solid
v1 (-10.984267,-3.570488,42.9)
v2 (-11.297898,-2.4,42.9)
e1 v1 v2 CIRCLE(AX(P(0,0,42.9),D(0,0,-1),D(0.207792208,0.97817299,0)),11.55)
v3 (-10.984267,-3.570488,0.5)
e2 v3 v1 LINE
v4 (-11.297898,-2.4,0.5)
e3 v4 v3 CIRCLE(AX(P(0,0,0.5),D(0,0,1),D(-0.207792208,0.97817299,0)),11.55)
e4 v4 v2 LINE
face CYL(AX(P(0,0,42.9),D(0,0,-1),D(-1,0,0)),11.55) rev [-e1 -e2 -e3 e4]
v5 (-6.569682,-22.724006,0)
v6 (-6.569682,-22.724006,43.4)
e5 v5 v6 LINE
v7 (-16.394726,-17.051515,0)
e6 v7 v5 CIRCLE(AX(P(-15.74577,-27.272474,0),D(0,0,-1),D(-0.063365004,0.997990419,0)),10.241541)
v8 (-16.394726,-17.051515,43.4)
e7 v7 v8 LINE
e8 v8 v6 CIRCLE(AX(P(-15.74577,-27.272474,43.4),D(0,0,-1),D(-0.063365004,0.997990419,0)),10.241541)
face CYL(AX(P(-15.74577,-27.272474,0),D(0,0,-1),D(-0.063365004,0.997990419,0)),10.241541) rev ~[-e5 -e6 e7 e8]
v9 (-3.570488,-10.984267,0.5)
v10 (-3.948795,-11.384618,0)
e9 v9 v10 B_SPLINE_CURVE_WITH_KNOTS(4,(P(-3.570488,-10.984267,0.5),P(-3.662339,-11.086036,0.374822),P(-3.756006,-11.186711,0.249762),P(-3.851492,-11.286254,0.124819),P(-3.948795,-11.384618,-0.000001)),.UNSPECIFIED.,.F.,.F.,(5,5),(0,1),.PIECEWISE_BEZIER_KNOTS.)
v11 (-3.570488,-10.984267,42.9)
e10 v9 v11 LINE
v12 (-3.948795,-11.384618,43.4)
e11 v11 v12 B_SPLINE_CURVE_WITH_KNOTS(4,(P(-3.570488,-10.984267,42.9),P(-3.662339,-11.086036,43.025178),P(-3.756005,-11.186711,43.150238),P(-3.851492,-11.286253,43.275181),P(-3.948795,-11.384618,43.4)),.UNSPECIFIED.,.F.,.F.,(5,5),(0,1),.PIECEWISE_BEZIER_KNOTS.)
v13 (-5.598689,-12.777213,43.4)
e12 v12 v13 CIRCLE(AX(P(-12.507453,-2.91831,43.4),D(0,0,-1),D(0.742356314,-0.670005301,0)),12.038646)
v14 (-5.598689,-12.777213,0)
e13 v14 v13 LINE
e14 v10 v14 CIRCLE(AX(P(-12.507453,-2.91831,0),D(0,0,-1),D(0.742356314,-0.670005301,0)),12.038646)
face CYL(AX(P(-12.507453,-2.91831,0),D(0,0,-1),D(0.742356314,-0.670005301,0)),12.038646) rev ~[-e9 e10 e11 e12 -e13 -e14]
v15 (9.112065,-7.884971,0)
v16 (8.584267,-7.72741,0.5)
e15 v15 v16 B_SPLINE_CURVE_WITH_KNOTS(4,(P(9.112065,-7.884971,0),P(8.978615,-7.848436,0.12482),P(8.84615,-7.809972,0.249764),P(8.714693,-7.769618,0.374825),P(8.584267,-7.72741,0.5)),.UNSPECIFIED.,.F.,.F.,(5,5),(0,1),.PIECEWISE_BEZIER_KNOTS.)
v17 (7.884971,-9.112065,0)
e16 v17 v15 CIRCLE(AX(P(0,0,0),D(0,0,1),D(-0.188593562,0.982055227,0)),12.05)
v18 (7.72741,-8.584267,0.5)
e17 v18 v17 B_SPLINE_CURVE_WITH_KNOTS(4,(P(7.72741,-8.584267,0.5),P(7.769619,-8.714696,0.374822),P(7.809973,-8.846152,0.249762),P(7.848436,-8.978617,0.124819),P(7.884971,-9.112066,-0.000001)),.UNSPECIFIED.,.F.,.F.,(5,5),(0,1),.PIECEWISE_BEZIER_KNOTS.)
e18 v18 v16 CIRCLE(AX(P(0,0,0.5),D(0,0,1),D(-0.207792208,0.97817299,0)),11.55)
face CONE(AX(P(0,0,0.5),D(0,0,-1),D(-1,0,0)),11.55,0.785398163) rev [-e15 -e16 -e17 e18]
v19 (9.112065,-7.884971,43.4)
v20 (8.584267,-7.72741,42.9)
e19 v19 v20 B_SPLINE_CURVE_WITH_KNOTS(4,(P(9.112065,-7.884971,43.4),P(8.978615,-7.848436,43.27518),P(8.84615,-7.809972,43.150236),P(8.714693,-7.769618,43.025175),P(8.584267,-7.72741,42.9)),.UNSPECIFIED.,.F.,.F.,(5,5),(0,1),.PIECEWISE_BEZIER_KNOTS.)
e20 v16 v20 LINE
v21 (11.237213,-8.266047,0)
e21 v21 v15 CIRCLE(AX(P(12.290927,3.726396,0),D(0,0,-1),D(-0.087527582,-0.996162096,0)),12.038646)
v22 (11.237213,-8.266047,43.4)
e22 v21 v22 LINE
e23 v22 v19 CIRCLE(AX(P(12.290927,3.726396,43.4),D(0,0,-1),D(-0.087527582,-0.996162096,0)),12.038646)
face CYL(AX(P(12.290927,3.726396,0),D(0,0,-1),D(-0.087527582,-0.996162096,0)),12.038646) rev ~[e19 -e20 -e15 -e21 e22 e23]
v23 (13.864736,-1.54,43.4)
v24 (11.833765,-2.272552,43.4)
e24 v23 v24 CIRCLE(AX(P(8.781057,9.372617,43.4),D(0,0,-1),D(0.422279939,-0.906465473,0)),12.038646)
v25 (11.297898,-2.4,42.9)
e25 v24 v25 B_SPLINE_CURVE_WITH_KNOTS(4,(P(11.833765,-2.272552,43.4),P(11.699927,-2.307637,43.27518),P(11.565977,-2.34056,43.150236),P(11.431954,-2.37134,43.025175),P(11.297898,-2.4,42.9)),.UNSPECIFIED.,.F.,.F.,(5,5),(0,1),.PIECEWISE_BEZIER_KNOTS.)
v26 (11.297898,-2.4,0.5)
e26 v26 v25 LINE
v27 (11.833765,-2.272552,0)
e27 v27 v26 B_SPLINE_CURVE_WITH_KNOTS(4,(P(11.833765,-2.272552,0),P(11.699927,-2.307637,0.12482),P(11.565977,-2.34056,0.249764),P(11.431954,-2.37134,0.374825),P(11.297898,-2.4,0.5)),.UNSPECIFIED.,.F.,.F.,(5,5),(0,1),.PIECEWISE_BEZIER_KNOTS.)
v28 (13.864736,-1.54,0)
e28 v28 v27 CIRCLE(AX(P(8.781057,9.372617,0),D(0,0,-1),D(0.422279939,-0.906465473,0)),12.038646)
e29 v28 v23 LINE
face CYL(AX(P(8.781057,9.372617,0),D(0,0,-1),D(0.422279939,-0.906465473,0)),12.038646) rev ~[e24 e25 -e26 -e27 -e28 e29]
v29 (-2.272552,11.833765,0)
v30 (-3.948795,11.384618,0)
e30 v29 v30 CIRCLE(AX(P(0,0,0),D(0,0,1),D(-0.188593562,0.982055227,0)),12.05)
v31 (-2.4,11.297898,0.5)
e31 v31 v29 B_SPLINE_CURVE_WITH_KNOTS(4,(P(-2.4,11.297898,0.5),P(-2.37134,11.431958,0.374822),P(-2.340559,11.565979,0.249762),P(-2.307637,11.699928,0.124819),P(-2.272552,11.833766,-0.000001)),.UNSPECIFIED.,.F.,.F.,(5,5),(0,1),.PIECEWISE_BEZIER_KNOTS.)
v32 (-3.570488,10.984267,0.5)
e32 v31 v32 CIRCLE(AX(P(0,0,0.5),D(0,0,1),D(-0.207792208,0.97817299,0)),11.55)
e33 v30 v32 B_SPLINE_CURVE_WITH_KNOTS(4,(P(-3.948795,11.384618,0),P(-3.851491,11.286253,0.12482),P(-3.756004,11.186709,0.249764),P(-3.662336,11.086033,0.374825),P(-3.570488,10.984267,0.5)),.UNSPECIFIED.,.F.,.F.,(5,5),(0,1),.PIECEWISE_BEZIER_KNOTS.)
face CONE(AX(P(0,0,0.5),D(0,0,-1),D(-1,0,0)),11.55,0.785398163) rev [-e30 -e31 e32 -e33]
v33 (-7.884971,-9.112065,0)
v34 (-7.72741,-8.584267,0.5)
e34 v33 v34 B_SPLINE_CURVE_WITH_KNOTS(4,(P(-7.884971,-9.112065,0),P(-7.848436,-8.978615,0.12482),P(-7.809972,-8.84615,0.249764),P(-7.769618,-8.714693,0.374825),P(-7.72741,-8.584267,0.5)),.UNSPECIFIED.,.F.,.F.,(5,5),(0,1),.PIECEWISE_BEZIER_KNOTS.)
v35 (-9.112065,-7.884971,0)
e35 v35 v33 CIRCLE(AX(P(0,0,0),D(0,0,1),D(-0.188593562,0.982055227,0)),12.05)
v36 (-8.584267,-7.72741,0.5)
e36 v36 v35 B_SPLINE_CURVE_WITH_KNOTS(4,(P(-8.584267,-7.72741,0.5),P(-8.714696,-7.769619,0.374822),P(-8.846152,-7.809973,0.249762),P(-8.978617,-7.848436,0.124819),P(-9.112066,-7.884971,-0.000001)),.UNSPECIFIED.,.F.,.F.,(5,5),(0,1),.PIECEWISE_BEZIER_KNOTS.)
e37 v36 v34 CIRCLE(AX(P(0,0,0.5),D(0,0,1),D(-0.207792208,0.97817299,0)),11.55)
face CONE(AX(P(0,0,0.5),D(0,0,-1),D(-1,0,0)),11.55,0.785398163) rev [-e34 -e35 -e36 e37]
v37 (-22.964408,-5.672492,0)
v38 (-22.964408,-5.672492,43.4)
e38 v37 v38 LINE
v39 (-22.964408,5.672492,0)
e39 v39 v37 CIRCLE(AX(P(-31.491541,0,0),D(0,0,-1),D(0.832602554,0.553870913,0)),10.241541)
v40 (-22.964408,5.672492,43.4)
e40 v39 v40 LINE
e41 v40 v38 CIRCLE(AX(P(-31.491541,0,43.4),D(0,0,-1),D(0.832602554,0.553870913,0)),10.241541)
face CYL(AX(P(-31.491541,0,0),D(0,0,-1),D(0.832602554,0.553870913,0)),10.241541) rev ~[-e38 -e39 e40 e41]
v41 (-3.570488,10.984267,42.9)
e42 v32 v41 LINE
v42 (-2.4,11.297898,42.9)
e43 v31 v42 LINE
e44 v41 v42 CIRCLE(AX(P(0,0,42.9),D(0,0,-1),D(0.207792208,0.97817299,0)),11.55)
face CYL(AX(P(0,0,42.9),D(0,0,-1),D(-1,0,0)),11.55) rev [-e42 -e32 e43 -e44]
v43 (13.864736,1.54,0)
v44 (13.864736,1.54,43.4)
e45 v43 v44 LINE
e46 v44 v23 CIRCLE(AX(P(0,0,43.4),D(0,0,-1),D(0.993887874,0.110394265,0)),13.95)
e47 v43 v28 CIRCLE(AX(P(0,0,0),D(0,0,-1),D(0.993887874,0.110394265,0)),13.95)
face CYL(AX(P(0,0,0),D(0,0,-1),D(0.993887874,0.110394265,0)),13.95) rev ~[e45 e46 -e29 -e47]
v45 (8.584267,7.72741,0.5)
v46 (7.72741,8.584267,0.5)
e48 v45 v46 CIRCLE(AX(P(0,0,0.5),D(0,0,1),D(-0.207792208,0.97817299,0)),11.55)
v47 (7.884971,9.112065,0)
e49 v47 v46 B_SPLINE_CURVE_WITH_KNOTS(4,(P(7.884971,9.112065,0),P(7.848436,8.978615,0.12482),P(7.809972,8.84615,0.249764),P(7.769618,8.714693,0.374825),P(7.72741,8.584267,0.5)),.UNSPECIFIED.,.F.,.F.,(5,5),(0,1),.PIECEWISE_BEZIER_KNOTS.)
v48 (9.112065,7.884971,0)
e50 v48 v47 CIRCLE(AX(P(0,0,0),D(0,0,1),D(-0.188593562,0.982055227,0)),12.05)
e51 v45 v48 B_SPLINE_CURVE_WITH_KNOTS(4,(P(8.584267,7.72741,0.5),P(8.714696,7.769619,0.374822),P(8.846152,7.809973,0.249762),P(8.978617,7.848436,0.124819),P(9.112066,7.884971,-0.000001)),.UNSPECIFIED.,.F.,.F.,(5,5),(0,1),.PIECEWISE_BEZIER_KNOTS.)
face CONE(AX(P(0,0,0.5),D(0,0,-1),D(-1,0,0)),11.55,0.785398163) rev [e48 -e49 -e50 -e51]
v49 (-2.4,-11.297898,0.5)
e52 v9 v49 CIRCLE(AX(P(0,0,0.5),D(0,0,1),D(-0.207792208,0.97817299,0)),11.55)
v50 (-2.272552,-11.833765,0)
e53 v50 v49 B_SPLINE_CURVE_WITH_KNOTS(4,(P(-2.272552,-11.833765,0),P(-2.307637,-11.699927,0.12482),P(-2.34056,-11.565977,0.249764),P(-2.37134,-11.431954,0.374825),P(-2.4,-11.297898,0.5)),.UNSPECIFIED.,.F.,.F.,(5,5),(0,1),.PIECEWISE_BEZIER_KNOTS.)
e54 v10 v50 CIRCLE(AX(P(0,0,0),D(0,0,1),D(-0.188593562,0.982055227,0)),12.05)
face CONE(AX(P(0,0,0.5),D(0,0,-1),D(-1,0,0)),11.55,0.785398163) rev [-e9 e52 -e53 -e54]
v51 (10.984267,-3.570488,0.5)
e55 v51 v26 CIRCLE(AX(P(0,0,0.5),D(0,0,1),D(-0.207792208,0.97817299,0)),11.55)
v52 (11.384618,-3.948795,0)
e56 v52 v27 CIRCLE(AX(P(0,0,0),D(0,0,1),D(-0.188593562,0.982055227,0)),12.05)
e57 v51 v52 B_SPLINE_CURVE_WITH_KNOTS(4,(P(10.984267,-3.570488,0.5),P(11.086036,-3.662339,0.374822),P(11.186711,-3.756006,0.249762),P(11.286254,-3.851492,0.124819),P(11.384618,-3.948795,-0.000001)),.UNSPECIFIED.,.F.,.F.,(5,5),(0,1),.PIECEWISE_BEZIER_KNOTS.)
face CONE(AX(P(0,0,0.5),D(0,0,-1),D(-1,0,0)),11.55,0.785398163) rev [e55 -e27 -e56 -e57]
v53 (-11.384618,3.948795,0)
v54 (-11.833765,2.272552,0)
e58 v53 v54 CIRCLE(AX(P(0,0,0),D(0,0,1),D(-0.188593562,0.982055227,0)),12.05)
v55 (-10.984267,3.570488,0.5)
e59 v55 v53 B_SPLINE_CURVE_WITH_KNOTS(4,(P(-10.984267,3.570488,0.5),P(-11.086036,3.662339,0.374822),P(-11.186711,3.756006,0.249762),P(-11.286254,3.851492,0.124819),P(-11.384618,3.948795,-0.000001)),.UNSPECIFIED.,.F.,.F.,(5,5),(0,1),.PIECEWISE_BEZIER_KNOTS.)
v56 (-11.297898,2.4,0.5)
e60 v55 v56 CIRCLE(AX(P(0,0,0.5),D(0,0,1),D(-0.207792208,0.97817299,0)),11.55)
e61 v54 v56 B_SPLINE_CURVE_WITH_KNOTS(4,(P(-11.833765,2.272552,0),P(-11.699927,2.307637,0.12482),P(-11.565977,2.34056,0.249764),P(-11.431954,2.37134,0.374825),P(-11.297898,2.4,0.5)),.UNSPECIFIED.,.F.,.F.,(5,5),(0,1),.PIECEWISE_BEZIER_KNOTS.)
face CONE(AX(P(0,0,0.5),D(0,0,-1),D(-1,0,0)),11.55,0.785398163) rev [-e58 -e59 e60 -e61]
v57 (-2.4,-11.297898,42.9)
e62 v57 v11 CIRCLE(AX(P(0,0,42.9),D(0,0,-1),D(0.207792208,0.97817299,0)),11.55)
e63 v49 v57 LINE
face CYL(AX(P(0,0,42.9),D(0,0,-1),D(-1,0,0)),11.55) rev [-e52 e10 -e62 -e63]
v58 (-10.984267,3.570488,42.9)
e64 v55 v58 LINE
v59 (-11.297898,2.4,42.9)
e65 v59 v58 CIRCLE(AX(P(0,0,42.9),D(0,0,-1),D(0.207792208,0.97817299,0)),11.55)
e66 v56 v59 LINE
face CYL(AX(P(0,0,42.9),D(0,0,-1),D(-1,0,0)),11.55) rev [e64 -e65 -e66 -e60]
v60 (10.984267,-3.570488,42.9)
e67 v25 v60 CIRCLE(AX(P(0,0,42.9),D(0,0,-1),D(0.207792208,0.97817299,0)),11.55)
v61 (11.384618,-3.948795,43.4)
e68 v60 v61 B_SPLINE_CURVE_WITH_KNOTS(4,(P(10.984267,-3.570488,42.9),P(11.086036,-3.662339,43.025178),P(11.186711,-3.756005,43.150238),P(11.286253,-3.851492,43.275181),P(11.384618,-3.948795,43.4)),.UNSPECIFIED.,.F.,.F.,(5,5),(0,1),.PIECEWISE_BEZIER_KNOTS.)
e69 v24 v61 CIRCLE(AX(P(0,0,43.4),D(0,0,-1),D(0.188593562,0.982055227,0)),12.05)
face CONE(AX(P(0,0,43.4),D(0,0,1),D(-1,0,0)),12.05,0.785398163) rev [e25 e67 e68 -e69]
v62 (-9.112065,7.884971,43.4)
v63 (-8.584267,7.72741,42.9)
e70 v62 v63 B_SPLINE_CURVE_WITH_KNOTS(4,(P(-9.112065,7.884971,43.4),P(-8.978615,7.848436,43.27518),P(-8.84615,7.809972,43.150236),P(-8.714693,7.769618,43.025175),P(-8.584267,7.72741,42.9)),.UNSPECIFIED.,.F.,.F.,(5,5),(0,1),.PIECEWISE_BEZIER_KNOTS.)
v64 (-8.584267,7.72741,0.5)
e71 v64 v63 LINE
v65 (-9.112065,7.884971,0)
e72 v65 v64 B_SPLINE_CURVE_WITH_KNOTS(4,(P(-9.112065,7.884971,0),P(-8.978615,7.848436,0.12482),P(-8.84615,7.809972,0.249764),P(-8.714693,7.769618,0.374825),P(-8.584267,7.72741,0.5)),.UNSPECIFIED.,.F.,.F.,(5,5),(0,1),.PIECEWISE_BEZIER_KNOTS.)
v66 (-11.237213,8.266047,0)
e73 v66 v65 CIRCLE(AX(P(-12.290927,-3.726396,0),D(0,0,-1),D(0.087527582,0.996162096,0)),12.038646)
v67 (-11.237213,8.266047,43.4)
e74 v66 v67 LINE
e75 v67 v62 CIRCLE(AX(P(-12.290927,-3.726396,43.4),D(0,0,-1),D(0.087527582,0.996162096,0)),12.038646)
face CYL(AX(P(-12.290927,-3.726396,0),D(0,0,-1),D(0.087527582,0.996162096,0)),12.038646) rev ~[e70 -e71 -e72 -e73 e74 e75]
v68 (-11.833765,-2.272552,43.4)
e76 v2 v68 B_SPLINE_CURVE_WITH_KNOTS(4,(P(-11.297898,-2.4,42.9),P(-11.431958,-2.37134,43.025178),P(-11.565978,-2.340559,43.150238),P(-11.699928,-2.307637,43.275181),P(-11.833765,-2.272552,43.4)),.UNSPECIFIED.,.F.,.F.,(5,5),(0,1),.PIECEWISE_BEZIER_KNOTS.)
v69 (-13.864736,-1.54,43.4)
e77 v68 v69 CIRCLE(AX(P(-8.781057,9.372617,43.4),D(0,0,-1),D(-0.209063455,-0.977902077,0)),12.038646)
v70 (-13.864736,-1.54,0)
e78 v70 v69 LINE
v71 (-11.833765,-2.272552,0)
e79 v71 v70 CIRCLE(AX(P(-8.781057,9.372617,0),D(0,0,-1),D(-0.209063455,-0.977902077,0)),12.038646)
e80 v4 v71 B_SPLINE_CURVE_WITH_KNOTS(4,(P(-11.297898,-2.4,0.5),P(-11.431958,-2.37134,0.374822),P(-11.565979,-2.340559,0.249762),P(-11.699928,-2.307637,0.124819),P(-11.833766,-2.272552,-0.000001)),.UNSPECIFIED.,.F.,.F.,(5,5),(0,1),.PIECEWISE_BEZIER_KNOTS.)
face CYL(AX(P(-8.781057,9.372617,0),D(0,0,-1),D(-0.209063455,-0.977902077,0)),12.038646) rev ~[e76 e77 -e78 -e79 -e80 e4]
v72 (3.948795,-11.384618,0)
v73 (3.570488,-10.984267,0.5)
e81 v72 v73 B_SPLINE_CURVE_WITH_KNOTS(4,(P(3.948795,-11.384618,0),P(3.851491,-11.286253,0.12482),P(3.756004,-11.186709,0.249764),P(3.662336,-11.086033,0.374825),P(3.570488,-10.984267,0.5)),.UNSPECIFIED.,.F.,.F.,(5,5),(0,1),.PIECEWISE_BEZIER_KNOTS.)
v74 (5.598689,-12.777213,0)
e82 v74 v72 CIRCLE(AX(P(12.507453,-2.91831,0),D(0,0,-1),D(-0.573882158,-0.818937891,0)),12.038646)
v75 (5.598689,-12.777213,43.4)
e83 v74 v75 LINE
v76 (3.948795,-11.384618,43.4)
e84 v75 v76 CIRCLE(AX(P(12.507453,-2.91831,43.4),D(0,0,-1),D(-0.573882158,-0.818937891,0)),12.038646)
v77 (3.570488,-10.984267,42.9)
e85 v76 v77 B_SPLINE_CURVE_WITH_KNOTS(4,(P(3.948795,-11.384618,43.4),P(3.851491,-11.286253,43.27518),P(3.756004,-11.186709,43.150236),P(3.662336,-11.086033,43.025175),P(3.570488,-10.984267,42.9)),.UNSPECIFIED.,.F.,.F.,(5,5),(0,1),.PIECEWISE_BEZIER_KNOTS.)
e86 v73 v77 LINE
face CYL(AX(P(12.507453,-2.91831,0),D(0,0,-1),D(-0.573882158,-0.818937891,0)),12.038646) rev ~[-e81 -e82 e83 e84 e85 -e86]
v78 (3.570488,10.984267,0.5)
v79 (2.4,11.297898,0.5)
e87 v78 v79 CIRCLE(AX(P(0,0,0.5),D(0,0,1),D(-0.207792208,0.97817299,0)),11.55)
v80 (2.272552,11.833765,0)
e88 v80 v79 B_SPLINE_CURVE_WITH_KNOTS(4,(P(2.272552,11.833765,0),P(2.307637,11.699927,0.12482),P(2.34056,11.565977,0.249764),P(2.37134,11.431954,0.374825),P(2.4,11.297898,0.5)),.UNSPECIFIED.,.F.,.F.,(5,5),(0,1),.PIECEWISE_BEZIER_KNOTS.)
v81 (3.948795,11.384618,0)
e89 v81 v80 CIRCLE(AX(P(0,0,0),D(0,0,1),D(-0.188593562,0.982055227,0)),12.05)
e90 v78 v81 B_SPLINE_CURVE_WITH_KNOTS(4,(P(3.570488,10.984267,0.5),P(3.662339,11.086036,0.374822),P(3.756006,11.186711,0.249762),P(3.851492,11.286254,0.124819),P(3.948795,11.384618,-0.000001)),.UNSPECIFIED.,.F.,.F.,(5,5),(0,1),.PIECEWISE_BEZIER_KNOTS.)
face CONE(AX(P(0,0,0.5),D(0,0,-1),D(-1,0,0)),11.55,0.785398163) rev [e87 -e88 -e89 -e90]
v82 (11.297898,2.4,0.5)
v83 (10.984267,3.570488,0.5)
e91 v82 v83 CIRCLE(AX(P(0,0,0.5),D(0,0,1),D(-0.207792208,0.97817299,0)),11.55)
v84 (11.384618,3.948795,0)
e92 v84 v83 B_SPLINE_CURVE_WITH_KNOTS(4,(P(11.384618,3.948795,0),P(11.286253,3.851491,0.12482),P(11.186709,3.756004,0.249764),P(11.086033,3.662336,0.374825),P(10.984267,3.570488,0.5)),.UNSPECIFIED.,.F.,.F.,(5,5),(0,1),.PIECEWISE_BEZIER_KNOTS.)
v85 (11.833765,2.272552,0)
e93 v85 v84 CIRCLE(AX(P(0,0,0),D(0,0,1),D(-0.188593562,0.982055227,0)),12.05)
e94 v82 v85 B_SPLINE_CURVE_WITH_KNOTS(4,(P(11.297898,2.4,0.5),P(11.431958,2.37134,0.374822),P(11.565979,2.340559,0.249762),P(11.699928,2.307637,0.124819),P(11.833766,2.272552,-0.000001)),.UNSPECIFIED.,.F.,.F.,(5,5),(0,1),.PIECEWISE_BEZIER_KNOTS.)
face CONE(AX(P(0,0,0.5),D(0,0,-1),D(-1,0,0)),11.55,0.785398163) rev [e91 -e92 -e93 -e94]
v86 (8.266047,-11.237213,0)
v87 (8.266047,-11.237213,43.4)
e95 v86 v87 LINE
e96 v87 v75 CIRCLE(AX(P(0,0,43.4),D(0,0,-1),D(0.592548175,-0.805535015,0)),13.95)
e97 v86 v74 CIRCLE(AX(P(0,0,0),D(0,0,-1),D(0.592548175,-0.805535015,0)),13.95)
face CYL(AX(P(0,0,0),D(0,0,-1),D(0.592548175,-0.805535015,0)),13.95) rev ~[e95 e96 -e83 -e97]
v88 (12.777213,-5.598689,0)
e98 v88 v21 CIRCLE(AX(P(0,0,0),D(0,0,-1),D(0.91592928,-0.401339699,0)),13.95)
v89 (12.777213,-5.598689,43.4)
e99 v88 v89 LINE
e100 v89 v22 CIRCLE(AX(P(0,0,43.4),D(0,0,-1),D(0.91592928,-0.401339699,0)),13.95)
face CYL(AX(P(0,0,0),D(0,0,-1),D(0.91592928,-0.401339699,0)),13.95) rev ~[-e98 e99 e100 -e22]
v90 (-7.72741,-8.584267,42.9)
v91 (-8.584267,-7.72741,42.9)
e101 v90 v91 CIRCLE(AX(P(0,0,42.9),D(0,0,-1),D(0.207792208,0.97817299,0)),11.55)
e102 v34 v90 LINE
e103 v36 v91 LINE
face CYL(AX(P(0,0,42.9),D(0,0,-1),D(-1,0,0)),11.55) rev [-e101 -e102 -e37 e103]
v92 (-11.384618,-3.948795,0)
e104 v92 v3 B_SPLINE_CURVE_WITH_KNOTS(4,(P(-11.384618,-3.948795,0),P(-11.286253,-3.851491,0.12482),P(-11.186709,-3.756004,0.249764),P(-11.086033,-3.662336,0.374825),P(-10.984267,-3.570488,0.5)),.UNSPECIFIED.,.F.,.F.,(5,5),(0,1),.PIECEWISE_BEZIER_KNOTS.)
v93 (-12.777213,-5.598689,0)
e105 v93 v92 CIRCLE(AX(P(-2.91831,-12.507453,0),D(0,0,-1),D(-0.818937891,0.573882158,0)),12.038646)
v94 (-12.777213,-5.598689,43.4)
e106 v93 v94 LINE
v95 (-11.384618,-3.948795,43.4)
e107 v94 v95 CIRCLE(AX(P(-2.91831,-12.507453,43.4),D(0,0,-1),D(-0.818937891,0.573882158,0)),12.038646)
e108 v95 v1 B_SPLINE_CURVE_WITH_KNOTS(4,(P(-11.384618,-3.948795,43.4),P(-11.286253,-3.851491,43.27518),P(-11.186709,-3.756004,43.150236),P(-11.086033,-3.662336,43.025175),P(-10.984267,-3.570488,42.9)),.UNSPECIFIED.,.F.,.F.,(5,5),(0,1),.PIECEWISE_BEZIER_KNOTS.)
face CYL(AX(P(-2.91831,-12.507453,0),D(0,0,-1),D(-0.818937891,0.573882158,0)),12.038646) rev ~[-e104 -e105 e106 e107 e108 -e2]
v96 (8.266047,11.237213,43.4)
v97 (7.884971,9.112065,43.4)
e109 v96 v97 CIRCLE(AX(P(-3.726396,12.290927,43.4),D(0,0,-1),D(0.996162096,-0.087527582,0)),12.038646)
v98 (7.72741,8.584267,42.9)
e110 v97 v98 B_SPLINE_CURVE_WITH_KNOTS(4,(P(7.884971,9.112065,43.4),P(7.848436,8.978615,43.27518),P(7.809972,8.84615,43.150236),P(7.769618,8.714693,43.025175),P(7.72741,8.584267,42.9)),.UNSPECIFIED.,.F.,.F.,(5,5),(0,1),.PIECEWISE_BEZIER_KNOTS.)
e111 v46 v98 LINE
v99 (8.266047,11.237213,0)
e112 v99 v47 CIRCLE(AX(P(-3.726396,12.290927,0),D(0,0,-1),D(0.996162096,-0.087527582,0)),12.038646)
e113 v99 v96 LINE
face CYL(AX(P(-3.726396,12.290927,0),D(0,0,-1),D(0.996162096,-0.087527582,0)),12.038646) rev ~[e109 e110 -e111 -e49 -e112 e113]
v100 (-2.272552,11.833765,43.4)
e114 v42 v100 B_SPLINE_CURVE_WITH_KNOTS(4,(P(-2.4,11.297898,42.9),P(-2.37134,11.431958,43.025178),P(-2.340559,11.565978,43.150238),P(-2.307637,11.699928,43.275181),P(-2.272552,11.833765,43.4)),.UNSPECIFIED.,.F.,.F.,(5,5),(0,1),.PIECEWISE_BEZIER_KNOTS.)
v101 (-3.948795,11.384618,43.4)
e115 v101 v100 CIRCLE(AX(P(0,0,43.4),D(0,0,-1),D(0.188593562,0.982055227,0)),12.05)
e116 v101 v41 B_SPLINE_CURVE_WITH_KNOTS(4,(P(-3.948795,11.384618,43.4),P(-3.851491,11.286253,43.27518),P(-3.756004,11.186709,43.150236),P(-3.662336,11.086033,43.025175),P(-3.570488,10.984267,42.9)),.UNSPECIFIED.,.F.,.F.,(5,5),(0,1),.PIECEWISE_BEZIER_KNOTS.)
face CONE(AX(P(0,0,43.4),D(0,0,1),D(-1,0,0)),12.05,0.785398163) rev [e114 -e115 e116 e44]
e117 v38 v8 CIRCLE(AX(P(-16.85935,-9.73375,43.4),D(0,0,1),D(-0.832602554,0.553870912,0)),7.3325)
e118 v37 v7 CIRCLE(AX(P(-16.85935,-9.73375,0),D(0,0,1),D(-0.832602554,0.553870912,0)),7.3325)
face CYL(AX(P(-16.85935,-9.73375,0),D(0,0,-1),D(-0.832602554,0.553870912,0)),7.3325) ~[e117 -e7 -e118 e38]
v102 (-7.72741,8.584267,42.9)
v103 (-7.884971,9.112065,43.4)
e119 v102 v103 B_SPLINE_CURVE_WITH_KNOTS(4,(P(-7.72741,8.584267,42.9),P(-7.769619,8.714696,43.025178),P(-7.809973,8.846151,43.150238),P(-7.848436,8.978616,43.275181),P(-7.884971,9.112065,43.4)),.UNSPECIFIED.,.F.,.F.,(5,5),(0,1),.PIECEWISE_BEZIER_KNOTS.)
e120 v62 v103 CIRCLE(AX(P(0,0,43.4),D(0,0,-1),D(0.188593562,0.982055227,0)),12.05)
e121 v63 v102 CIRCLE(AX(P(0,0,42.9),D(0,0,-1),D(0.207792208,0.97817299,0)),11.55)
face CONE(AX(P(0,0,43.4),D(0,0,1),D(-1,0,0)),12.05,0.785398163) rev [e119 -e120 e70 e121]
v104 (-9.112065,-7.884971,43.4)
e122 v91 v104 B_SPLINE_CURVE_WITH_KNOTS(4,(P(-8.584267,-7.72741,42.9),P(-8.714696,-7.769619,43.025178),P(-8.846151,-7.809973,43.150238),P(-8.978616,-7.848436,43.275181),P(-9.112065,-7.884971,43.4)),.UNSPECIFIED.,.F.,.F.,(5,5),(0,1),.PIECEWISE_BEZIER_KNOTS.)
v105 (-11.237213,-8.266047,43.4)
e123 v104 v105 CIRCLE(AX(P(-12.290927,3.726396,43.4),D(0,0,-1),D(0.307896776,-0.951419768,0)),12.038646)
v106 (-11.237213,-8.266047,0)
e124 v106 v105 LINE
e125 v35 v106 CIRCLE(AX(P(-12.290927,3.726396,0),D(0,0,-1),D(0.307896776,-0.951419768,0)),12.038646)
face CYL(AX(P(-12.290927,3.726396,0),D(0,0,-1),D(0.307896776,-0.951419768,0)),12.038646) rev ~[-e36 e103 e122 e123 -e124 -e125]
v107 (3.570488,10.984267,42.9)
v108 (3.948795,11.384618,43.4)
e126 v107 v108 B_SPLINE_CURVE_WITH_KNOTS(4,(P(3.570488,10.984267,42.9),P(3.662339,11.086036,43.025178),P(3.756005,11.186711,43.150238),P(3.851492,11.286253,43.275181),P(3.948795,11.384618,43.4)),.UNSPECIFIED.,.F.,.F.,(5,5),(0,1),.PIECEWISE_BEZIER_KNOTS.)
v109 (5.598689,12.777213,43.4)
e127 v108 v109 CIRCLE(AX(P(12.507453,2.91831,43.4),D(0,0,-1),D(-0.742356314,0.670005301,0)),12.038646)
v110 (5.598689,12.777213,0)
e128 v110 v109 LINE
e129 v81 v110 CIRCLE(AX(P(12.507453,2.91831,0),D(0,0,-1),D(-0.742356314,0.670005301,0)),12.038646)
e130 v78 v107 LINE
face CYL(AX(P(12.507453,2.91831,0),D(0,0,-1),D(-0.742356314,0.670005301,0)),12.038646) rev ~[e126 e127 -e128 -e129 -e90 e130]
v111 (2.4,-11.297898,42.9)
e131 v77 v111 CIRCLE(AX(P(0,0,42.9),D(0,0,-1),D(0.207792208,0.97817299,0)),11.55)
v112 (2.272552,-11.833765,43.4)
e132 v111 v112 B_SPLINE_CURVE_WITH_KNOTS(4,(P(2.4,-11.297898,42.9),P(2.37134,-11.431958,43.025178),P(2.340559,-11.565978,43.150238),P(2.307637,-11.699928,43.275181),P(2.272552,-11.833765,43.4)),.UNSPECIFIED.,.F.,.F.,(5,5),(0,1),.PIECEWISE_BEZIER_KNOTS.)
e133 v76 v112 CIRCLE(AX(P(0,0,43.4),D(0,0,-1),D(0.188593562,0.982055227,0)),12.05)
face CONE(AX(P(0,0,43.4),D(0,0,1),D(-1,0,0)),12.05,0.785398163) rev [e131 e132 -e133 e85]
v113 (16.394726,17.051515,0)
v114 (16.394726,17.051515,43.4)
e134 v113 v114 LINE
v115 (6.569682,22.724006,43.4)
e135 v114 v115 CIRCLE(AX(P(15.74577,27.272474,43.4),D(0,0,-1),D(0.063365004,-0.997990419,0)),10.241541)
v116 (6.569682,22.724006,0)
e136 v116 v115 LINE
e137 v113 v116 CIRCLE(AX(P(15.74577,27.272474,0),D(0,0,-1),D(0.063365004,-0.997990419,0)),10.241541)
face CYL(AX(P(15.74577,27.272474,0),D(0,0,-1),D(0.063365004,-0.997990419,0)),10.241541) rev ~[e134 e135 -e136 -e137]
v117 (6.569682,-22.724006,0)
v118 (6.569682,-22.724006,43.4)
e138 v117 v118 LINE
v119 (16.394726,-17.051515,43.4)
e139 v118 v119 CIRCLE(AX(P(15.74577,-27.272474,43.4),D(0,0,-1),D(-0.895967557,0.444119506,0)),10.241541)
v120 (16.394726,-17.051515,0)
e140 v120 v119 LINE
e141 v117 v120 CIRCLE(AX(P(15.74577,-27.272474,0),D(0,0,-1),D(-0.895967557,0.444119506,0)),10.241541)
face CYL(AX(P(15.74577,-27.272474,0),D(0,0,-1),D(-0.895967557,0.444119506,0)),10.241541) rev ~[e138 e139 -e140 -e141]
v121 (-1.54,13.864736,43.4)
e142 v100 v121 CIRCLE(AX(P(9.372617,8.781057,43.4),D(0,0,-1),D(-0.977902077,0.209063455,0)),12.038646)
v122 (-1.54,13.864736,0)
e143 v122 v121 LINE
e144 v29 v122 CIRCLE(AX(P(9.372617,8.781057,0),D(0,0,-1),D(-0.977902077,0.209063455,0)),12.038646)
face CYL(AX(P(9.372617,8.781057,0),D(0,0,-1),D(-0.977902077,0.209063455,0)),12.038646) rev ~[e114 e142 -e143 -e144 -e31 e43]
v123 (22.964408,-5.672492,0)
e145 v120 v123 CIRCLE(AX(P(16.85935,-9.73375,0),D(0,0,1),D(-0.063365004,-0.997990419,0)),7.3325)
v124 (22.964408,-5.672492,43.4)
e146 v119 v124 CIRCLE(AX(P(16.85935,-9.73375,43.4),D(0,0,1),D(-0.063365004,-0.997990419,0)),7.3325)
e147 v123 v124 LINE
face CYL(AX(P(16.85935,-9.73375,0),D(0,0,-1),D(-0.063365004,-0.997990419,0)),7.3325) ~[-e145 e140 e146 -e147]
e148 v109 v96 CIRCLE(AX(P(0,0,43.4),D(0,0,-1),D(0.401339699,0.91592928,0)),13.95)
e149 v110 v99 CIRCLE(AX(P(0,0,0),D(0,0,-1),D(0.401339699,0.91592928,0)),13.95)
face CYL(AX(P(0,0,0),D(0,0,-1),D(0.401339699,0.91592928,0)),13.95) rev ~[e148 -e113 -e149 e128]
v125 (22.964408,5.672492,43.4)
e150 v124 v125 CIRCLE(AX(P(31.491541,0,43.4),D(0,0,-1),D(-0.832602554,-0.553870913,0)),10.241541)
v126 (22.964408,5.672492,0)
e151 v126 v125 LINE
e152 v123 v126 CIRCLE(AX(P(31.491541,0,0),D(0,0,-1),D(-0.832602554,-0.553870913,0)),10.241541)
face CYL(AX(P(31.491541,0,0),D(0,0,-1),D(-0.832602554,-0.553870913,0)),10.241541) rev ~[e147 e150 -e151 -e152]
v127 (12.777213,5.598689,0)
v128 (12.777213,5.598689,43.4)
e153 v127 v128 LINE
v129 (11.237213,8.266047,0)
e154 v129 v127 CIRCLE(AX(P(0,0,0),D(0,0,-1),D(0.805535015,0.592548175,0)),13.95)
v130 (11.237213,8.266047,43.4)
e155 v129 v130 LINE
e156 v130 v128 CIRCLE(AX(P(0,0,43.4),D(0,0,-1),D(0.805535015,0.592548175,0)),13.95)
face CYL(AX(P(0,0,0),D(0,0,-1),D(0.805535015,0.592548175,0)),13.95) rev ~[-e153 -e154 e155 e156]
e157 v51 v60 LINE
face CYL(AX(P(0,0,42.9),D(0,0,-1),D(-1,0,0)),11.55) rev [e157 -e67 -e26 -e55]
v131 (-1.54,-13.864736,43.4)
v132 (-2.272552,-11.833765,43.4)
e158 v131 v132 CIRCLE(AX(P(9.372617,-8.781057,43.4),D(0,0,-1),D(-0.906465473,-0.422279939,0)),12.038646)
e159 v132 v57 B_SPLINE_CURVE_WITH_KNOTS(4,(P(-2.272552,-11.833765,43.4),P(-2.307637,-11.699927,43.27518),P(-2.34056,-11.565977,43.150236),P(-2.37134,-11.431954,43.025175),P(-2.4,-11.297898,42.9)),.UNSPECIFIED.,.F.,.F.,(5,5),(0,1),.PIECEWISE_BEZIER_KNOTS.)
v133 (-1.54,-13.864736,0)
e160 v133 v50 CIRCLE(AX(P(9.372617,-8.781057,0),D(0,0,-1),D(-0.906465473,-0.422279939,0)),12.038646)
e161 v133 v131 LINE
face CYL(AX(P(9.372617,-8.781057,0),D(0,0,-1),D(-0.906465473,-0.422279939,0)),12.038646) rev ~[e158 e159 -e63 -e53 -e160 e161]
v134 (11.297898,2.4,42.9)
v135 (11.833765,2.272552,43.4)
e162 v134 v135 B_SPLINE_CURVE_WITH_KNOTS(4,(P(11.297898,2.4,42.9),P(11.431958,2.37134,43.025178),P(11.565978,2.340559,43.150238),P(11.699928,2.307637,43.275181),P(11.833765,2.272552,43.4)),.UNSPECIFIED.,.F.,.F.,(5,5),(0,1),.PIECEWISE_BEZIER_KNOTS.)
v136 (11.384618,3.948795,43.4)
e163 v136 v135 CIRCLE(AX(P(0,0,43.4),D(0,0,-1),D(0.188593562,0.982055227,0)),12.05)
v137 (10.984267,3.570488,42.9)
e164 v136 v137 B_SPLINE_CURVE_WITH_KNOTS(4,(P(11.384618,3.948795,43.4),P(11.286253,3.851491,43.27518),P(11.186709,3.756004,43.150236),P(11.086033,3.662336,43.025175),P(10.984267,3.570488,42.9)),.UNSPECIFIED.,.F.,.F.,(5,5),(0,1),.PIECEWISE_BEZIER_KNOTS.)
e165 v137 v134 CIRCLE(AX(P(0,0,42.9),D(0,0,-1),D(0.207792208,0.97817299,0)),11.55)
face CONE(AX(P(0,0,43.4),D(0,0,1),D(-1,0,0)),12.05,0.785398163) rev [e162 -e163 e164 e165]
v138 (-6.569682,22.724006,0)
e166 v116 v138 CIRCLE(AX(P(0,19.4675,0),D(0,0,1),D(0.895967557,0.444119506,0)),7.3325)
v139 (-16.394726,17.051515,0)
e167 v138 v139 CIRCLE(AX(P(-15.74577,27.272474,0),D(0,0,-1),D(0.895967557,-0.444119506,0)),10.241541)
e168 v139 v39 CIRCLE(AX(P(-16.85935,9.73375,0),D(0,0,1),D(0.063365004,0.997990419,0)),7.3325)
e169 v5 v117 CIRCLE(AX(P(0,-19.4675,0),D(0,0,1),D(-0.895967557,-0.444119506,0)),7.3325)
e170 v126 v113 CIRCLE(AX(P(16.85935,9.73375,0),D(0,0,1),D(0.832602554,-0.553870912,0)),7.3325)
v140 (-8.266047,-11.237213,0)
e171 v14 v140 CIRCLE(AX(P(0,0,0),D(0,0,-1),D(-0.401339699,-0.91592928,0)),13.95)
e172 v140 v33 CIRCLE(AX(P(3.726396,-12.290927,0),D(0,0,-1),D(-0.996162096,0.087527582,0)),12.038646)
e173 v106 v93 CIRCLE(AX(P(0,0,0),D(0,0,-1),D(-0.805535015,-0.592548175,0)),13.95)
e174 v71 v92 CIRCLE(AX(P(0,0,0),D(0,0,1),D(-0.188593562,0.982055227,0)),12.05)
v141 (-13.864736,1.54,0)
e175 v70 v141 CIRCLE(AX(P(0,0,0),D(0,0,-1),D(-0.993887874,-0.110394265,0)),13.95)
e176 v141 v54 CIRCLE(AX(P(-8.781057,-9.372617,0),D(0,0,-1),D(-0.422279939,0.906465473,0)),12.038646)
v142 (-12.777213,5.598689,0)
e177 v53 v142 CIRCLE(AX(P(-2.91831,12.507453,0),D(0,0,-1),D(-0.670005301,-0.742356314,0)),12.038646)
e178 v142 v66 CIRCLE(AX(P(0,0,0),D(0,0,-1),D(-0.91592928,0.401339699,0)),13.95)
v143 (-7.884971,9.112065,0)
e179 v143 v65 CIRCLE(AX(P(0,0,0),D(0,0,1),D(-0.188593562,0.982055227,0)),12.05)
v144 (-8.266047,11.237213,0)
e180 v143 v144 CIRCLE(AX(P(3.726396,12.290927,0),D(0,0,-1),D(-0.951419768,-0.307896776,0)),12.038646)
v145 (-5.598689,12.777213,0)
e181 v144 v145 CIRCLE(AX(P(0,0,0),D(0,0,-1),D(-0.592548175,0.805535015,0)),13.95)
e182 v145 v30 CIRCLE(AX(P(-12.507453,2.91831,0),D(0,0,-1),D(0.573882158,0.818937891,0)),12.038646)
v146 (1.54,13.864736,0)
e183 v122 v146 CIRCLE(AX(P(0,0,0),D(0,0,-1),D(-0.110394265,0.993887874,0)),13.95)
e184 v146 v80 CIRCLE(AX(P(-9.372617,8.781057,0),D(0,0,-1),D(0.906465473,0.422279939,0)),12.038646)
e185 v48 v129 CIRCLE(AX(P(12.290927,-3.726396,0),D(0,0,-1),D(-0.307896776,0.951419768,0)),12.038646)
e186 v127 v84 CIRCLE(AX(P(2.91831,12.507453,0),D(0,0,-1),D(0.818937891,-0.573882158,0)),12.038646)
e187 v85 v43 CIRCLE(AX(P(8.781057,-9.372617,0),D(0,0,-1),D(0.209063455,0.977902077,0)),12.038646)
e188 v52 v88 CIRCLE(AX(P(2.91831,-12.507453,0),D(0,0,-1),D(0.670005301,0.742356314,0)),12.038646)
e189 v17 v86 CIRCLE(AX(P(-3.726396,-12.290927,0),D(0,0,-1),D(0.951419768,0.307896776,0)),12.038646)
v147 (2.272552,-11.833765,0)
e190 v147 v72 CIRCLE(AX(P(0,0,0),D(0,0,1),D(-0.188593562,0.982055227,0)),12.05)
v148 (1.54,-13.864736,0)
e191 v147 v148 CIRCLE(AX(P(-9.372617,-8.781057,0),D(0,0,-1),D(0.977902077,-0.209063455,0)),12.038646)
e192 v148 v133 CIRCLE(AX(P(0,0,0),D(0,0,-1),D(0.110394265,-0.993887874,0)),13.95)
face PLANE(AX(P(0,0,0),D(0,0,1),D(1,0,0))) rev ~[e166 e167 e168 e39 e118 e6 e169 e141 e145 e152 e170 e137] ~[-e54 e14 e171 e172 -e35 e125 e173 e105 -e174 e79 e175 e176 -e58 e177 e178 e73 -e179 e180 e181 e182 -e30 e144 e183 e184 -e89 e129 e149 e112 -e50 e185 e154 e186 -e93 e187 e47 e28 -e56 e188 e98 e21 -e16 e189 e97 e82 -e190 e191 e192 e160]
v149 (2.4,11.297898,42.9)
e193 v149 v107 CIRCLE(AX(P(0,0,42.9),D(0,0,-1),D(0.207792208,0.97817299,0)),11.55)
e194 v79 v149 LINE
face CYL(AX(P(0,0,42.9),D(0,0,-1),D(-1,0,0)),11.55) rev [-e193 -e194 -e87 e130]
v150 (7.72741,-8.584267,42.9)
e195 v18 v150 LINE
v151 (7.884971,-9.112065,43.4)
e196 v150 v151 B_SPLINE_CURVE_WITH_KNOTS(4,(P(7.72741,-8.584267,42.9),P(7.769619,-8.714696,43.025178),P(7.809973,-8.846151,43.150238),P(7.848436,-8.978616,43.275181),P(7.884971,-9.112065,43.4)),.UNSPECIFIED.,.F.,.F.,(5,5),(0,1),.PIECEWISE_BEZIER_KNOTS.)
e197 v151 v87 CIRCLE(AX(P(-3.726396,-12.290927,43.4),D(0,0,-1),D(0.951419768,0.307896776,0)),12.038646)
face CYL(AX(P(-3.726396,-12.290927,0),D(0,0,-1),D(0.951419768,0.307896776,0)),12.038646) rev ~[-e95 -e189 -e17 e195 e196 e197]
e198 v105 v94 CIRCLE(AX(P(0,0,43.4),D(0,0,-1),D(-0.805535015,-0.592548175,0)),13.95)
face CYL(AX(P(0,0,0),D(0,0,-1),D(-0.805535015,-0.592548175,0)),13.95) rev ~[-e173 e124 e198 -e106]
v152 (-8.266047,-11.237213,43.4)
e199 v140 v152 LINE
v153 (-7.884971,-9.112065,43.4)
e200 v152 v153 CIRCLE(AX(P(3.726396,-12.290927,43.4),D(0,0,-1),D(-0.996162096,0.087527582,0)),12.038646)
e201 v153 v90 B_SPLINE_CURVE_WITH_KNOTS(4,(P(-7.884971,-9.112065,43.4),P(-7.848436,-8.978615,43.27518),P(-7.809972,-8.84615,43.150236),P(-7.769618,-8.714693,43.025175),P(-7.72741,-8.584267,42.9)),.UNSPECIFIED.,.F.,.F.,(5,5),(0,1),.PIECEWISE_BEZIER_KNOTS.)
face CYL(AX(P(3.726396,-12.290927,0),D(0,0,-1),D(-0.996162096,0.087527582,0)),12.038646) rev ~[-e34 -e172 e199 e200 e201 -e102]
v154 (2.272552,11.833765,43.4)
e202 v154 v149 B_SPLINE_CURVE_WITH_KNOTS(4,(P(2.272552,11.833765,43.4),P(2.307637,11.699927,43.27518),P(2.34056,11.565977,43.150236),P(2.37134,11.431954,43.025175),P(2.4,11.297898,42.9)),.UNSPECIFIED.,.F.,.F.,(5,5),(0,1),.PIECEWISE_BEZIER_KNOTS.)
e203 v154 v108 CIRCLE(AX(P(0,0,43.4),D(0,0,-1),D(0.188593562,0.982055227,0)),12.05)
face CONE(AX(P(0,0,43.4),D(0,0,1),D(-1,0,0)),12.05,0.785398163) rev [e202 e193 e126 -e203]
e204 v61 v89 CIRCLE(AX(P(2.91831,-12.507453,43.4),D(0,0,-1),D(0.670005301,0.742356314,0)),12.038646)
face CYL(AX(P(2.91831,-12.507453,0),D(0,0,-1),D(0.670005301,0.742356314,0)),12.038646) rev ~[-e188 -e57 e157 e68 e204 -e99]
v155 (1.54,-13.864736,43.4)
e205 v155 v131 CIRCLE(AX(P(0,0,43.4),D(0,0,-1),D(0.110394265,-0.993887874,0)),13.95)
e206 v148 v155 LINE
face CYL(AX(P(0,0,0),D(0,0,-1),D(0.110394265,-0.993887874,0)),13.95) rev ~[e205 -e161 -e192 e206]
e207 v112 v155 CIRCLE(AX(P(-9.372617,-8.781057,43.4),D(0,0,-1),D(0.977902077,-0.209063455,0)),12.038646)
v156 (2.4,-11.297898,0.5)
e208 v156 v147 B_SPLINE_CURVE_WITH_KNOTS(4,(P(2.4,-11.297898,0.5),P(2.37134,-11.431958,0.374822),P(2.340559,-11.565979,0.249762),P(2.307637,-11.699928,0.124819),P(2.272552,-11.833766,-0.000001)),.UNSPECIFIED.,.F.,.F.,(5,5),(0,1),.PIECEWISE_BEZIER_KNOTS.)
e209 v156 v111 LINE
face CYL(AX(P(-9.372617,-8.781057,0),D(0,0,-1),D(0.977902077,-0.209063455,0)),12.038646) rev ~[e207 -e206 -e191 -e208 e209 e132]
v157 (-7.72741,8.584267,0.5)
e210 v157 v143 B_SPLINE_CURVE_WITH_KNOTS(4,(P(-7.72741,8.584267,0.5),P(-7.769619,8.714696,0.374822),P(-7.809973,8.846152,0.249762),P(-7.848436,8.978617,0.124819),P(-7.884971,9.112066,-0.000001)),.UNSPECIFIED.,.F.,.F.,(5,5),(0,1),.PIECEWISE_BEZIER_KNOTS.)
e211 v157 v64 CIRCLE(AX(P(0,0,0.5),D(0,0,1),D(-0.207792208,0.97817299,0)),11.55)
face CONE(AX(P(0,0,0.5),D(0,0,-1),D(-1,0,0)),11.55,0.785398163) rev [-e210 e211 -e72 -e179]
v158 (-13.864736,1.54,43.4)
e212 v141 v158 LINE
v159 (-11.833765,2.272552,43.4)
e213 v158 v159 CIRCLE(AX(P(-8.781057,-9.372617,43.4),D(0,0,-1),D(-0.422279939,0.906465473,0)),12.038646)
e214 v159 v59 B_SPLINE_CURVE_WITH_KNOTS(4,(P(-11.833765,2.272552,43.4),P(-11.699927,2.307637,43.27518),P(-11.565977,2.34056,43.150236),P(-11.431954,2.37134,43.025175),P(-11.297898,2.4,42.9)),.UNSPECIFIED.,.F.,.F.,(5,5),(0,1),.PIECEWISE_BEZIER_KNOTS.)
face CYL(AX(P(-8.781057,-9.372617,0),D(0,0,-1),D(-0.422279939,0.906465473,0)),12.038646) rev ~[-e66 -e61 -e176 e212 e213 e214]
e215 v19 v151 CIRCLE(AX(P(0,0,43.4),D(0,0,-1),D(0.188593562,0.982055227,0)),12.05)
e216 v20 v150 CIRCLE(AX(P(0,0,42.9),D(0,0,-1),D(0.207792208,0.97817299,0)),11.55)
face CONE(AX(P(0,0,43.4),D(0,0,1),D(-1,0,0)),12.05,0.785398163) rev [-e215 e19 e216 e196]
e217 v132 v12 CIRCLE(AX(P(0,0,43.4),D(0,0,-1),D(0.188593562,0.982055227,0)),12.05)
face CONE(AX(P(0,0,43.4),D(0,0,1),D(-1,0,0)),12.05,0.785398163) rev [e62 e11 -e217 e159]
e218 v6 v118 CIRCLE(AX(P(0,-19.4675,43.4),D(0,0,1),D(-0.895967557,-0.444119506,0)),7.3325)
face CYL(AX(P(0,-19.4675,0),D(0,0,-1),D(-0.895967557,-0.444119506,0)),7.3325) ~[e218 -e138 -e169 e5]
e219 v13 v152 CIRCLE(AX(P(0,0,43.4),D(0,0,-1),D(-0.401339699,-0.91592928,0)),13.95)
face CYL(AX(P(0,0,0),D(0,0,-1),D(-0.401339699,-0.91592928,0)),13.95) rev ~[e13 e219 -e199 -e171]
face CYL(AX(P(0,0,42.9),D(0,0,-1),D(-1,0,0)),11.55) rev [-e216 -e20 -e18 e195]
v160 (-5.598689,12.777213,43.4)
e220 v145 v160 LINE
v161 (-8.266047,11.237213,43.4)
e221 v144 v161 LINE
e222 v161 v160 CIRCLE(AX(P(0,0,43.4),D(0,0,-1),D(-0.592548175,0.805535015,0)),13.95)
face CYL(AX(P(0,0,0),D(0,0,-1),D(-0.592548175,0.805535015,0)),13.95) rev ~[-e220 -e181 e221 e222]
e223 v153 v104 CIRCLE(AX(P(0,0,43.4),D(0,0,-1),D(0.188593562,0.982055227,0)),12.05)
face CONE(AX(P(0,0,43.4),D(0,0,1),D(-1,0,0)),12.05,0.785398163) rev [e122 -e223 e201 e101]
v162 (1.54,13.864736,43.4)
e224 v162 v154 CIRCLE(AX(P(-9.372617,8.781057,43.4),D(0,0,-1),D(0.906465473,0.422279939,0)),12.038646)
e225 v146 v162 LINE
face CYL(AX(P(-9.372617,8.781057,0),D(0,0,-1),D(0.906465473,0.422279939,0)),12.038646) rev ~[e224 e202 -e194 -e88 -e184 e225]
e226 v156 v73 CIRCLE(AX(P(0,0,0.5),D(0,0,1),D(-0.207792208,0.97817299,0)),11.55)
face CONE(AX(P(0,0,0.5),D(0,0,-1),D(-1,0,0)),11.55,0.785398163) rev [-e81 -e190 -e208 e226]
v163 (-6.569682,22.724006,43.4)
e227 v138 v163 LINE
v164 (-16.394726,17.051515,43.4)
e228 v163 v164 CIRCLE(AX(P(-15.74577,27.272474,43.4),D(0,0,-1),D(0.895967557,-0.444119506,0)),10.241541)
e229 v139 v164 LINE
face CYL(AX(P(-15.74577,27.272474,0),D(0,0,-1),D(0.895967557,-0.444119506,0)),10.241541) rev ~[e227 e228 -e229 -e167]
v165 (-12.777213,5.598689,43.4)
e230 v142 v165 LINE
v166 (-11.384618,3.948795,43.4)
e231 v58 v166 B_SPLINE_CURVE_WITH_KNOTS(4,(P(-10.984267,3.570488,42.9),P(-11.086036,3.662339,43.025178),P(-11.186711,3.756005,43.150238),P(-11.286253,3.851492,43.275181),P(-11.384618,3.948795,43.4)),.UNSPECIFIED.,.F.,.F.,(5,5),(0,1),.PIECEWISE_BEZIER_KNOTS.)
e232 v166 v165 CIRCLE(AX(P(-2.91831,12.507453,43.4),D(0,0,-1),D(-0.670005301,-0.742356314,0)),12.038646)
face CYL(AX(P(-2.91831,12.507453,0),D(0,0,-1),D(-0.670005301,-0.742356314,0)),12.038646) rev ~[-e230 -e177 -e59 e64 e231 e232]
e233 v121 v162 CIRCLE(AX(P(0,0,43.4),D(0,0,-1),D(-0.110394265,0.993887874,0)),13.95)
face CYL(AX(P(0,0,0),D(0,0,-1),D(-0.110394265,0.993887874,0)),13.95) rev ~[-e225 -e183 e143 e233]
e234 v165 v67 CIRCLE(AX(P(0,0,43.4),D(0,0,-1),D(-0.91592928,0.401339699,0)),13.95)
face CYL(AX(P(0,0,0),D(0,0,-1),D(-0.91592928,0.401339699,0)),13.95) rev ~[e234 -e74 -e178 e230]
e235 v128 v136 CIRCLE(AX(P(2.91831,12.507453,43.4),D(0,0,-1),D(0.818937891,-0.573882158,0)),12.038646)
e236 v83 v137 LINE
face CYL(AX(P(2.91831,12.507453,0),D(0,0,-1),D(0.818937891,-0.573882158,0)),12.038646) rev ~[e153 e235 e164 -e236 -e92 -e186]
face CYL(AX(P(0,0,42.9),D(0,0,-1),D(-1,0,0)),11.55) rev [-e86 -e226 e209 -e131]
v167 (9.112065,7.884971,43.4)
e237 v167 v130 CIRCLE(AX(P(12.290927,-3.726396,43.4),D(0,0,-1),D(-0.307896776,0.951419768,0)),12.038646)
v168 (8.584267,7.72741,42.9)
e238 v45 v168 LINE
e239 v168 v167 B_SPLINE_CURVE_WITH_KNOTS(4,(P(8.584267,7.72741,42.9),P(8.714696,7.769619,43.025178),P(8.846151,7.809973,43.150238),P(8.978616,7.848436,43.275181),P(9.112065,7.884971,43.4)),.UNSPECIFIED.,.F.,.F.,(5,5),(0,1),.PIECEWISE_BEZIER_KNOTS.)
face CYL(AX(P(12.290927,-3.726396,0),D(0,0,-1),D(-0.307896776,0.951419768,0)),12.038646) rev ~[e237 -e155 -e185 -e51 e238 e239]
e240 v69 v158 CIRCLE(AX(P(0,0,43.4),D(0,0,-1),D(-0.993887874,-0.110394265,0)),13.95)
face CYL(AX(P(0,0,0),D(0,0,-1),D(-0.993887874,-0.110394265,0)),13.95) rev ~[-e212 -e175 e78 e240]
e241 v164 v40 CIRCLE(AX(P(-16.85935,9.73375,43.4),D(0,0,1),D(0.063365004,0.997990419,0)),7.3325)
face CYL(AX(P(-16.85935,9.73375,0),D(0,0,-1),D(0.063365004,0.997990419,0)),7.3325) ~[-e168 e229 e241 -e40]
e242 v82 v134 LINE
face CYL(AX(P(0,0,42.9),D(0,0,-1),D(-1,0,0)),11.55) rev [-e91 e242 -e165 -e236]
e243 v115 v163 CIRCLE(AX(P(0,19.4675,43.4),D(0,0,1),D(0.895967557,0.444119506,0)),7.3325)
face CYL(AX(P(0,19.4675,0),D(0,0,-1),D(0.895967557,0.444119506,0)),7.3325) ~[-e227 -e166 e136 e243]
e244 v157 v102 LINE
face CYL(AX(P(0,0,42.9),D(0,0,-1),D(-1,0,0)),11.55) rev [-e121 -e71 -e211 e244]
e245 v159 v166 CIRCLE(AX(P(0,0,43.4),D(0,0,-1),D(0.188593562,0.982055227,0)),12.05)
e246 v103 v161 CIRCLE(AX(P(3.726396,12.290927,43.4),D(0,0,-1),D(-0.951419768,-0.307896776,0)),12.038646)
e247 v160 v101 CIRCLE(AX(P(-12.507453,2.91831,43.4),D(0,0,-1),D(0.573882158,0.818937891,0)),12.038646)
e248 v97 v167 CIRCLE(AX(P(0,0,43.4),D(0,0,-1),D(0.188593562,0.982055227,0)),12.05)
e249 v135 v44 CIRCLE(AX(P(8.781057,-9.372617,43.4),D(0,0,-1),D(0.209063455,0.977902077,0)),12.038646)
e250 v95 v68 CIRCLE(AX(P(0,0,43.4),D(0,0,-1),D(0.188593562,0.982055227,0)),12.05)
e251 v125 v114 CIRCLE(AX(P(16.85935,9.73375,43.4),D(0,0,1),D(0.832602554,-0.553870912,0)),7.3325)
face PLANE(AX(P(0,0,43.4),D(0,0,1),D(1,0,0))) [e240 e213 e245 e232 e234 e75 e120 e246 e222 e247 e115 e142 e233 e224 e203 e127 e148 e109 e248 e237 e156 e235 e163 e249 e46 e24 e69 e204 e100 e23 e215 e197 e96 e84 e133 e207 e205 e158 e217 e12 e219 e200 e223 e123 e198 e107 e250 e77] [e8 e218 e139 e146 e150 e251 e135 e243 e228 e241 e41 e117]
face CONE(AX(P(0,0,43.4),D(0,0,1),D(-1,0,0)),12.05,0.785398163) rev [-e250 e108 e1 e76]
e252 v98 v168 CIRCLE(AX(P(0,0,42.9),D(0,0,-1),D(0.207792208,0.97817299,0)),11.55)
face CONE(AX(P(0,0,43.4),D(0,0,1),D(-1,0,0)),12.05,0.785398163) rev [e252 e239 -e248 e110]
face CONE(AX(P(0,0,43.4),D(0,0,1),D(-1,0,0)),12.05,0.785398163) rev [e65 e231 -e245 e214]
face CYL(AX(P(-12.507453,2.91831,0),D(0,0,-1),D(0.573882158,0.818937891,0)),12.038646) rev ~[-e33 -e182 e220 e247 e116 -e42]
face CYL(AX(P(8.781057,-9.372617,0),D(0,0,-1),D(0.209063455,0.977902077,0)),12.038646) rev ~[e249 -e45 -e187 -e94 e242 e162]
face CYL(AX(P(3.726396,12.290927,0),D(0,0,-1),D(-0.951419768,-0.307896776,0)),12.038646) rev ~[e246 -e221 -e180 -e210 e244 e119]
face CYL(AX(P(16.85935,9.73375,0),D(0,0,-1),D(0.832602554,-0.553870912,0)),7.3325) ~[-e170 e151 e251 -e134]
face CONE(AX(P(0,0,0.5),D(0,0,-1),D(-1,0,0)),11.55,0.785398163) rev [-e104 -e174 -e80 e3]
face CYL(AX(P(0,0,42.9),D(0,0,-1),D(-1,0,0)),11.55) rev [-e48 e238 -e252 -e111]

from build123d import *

# Parameters (mm, degrees)
SKETCH1_R         = 11.5
EXTRUDE1_DEPTH    = 43.4
EXTRUDE2_REACH    = 58.454
CIRPATTERN1_COUNT = 12


with BuildPart() as part:
    # Sketch1 → Extrude1 (new body)
    with BuildSketch(Plane.XY):
        with BuildLine():
            ThreePointArc((6.569682115, 22.724006281), (0, 26.8), (-6.569682115, 22.724006281))
            ThreePointArc((-6.569682115, 22.724006281), (-10.625, 18.40303983), (-16.394725658, 17.051514747))
            ThreePointArc((-16.394725658, 17.051514747), (-23.209480821, 13.4), (-22.964407773, 5.672491534))
            ThreePointArc((-22.964407773, 5.672491534), (-21.25, 0), (-22.964407773, -5.672491534))
            ThreePointArc((-22.964407773, -5.672491534), (-23.209480821, -13.4), (-16.394725658, -17.051514747))
            ThreePointArc((-16.394725658, -17.051514747), (-10.625, -18.40303983), (-6.569682115, -22.724006281))
            ThreePointArc((-6.569682115, -22.724006281), (0, -26.8), (6.569682115, -22.724006281))
            ThreePointArc((6.569682115, -22.724006281), (10.625, -18.40303983), (16.394725658, -17.051514747))
            ThreePointArc((16.394725658, -17.051514747), (23.209480821, -13.4), (22.964407773, -5.672491534))
            ThreePointArc((22.964407773, -5.672491534), (21.25, 0), (22.964407773, 5.672491534))
            ThreePointArc((22.964407773, 5.672491534), (23.209480821, 13.4), (16.394725658, 17.051514747))
            ThreePointArc((16.394725658, 17.051514747), (10.625, 18.40303983), (6.569682115, 22.724006281))
        make_face()
        Circle(SKETCH1_R, mode=Mode.SUBTRACT)
    extrude(amount=EXTRUDE1_DEPTH)

    # Sketch4 → Cut-Revolve1 (revolve, cut)
    with BuildSketch(Plane(origin=(0, 0, 0), x_dir=(0, 0, -1), z_dir=(1, 0, 0)), mode=Mode.PRIVATE) as cut_revolve1_sk:
        Polygon((0, 0), (-43.4, 0), (-43.4, 12.05), (-42.9, 11.55), (-0.5, 11.55), (0, 12.05), align=None)
    revolve(cut_revolve1_sk.sketch.rotate(Axis((0, 0, 0), (0, 0, 1)), 90), axis=Axis((0, 0, 0), (0, 0, 1)), mode=Mode.SUBTRACT)

    # Sketch2 → Extrude2 (cut, up to next)
    with BuildSketch(Plane(origin=(0, 0, 0), x_dir=(-1, 0, 0), z_dir=(0, 0, -1)), mode=Mode.PRIVATE) as extrude2_sk1:
        with BuildLine():
            ThreePointArc((1.54, 13.864735843), (0, 13.95), (-1.54, 13.864735843))
            ThreePointArc((-1.54, 13.864735843), (-2.042378597, 12.605566852), (-2.4, 11.297898035))
            ThreePointArc((-2.4, 11.297898035), (0, 11.55), (2.4, 11.297898035))
            ThreePointArc((2.4, 11.297898035), (2.042378597, 12.605566852), (1.54, 13.864735843))
        make_face()
    extrude2_tool1 = extrude(extrude2_sk1.sketch, amount=-EXTRUDE2_REACH, mode=Mode.PRIVATE) & part.part
    extrude2 = extrude2_tool1.solids().sort_by_distance((0, 12.606446, 0))[0]
    add(extrude2, mode=Mode.SUBTRACT)

    # CirPattern1: Extrude2 ×12 about axis
    cirpattern1_axis = Axis((0, 0, 0), (0, 0, 1))
    for i in range(1, CIRPATTERN1_COUNT):
        add(extrude2.rotate(cirpattern1_axis, i * 360 / CIRPATTERN1_COUNT), mode=Mode.SUBTRACT)


solid = part.part
